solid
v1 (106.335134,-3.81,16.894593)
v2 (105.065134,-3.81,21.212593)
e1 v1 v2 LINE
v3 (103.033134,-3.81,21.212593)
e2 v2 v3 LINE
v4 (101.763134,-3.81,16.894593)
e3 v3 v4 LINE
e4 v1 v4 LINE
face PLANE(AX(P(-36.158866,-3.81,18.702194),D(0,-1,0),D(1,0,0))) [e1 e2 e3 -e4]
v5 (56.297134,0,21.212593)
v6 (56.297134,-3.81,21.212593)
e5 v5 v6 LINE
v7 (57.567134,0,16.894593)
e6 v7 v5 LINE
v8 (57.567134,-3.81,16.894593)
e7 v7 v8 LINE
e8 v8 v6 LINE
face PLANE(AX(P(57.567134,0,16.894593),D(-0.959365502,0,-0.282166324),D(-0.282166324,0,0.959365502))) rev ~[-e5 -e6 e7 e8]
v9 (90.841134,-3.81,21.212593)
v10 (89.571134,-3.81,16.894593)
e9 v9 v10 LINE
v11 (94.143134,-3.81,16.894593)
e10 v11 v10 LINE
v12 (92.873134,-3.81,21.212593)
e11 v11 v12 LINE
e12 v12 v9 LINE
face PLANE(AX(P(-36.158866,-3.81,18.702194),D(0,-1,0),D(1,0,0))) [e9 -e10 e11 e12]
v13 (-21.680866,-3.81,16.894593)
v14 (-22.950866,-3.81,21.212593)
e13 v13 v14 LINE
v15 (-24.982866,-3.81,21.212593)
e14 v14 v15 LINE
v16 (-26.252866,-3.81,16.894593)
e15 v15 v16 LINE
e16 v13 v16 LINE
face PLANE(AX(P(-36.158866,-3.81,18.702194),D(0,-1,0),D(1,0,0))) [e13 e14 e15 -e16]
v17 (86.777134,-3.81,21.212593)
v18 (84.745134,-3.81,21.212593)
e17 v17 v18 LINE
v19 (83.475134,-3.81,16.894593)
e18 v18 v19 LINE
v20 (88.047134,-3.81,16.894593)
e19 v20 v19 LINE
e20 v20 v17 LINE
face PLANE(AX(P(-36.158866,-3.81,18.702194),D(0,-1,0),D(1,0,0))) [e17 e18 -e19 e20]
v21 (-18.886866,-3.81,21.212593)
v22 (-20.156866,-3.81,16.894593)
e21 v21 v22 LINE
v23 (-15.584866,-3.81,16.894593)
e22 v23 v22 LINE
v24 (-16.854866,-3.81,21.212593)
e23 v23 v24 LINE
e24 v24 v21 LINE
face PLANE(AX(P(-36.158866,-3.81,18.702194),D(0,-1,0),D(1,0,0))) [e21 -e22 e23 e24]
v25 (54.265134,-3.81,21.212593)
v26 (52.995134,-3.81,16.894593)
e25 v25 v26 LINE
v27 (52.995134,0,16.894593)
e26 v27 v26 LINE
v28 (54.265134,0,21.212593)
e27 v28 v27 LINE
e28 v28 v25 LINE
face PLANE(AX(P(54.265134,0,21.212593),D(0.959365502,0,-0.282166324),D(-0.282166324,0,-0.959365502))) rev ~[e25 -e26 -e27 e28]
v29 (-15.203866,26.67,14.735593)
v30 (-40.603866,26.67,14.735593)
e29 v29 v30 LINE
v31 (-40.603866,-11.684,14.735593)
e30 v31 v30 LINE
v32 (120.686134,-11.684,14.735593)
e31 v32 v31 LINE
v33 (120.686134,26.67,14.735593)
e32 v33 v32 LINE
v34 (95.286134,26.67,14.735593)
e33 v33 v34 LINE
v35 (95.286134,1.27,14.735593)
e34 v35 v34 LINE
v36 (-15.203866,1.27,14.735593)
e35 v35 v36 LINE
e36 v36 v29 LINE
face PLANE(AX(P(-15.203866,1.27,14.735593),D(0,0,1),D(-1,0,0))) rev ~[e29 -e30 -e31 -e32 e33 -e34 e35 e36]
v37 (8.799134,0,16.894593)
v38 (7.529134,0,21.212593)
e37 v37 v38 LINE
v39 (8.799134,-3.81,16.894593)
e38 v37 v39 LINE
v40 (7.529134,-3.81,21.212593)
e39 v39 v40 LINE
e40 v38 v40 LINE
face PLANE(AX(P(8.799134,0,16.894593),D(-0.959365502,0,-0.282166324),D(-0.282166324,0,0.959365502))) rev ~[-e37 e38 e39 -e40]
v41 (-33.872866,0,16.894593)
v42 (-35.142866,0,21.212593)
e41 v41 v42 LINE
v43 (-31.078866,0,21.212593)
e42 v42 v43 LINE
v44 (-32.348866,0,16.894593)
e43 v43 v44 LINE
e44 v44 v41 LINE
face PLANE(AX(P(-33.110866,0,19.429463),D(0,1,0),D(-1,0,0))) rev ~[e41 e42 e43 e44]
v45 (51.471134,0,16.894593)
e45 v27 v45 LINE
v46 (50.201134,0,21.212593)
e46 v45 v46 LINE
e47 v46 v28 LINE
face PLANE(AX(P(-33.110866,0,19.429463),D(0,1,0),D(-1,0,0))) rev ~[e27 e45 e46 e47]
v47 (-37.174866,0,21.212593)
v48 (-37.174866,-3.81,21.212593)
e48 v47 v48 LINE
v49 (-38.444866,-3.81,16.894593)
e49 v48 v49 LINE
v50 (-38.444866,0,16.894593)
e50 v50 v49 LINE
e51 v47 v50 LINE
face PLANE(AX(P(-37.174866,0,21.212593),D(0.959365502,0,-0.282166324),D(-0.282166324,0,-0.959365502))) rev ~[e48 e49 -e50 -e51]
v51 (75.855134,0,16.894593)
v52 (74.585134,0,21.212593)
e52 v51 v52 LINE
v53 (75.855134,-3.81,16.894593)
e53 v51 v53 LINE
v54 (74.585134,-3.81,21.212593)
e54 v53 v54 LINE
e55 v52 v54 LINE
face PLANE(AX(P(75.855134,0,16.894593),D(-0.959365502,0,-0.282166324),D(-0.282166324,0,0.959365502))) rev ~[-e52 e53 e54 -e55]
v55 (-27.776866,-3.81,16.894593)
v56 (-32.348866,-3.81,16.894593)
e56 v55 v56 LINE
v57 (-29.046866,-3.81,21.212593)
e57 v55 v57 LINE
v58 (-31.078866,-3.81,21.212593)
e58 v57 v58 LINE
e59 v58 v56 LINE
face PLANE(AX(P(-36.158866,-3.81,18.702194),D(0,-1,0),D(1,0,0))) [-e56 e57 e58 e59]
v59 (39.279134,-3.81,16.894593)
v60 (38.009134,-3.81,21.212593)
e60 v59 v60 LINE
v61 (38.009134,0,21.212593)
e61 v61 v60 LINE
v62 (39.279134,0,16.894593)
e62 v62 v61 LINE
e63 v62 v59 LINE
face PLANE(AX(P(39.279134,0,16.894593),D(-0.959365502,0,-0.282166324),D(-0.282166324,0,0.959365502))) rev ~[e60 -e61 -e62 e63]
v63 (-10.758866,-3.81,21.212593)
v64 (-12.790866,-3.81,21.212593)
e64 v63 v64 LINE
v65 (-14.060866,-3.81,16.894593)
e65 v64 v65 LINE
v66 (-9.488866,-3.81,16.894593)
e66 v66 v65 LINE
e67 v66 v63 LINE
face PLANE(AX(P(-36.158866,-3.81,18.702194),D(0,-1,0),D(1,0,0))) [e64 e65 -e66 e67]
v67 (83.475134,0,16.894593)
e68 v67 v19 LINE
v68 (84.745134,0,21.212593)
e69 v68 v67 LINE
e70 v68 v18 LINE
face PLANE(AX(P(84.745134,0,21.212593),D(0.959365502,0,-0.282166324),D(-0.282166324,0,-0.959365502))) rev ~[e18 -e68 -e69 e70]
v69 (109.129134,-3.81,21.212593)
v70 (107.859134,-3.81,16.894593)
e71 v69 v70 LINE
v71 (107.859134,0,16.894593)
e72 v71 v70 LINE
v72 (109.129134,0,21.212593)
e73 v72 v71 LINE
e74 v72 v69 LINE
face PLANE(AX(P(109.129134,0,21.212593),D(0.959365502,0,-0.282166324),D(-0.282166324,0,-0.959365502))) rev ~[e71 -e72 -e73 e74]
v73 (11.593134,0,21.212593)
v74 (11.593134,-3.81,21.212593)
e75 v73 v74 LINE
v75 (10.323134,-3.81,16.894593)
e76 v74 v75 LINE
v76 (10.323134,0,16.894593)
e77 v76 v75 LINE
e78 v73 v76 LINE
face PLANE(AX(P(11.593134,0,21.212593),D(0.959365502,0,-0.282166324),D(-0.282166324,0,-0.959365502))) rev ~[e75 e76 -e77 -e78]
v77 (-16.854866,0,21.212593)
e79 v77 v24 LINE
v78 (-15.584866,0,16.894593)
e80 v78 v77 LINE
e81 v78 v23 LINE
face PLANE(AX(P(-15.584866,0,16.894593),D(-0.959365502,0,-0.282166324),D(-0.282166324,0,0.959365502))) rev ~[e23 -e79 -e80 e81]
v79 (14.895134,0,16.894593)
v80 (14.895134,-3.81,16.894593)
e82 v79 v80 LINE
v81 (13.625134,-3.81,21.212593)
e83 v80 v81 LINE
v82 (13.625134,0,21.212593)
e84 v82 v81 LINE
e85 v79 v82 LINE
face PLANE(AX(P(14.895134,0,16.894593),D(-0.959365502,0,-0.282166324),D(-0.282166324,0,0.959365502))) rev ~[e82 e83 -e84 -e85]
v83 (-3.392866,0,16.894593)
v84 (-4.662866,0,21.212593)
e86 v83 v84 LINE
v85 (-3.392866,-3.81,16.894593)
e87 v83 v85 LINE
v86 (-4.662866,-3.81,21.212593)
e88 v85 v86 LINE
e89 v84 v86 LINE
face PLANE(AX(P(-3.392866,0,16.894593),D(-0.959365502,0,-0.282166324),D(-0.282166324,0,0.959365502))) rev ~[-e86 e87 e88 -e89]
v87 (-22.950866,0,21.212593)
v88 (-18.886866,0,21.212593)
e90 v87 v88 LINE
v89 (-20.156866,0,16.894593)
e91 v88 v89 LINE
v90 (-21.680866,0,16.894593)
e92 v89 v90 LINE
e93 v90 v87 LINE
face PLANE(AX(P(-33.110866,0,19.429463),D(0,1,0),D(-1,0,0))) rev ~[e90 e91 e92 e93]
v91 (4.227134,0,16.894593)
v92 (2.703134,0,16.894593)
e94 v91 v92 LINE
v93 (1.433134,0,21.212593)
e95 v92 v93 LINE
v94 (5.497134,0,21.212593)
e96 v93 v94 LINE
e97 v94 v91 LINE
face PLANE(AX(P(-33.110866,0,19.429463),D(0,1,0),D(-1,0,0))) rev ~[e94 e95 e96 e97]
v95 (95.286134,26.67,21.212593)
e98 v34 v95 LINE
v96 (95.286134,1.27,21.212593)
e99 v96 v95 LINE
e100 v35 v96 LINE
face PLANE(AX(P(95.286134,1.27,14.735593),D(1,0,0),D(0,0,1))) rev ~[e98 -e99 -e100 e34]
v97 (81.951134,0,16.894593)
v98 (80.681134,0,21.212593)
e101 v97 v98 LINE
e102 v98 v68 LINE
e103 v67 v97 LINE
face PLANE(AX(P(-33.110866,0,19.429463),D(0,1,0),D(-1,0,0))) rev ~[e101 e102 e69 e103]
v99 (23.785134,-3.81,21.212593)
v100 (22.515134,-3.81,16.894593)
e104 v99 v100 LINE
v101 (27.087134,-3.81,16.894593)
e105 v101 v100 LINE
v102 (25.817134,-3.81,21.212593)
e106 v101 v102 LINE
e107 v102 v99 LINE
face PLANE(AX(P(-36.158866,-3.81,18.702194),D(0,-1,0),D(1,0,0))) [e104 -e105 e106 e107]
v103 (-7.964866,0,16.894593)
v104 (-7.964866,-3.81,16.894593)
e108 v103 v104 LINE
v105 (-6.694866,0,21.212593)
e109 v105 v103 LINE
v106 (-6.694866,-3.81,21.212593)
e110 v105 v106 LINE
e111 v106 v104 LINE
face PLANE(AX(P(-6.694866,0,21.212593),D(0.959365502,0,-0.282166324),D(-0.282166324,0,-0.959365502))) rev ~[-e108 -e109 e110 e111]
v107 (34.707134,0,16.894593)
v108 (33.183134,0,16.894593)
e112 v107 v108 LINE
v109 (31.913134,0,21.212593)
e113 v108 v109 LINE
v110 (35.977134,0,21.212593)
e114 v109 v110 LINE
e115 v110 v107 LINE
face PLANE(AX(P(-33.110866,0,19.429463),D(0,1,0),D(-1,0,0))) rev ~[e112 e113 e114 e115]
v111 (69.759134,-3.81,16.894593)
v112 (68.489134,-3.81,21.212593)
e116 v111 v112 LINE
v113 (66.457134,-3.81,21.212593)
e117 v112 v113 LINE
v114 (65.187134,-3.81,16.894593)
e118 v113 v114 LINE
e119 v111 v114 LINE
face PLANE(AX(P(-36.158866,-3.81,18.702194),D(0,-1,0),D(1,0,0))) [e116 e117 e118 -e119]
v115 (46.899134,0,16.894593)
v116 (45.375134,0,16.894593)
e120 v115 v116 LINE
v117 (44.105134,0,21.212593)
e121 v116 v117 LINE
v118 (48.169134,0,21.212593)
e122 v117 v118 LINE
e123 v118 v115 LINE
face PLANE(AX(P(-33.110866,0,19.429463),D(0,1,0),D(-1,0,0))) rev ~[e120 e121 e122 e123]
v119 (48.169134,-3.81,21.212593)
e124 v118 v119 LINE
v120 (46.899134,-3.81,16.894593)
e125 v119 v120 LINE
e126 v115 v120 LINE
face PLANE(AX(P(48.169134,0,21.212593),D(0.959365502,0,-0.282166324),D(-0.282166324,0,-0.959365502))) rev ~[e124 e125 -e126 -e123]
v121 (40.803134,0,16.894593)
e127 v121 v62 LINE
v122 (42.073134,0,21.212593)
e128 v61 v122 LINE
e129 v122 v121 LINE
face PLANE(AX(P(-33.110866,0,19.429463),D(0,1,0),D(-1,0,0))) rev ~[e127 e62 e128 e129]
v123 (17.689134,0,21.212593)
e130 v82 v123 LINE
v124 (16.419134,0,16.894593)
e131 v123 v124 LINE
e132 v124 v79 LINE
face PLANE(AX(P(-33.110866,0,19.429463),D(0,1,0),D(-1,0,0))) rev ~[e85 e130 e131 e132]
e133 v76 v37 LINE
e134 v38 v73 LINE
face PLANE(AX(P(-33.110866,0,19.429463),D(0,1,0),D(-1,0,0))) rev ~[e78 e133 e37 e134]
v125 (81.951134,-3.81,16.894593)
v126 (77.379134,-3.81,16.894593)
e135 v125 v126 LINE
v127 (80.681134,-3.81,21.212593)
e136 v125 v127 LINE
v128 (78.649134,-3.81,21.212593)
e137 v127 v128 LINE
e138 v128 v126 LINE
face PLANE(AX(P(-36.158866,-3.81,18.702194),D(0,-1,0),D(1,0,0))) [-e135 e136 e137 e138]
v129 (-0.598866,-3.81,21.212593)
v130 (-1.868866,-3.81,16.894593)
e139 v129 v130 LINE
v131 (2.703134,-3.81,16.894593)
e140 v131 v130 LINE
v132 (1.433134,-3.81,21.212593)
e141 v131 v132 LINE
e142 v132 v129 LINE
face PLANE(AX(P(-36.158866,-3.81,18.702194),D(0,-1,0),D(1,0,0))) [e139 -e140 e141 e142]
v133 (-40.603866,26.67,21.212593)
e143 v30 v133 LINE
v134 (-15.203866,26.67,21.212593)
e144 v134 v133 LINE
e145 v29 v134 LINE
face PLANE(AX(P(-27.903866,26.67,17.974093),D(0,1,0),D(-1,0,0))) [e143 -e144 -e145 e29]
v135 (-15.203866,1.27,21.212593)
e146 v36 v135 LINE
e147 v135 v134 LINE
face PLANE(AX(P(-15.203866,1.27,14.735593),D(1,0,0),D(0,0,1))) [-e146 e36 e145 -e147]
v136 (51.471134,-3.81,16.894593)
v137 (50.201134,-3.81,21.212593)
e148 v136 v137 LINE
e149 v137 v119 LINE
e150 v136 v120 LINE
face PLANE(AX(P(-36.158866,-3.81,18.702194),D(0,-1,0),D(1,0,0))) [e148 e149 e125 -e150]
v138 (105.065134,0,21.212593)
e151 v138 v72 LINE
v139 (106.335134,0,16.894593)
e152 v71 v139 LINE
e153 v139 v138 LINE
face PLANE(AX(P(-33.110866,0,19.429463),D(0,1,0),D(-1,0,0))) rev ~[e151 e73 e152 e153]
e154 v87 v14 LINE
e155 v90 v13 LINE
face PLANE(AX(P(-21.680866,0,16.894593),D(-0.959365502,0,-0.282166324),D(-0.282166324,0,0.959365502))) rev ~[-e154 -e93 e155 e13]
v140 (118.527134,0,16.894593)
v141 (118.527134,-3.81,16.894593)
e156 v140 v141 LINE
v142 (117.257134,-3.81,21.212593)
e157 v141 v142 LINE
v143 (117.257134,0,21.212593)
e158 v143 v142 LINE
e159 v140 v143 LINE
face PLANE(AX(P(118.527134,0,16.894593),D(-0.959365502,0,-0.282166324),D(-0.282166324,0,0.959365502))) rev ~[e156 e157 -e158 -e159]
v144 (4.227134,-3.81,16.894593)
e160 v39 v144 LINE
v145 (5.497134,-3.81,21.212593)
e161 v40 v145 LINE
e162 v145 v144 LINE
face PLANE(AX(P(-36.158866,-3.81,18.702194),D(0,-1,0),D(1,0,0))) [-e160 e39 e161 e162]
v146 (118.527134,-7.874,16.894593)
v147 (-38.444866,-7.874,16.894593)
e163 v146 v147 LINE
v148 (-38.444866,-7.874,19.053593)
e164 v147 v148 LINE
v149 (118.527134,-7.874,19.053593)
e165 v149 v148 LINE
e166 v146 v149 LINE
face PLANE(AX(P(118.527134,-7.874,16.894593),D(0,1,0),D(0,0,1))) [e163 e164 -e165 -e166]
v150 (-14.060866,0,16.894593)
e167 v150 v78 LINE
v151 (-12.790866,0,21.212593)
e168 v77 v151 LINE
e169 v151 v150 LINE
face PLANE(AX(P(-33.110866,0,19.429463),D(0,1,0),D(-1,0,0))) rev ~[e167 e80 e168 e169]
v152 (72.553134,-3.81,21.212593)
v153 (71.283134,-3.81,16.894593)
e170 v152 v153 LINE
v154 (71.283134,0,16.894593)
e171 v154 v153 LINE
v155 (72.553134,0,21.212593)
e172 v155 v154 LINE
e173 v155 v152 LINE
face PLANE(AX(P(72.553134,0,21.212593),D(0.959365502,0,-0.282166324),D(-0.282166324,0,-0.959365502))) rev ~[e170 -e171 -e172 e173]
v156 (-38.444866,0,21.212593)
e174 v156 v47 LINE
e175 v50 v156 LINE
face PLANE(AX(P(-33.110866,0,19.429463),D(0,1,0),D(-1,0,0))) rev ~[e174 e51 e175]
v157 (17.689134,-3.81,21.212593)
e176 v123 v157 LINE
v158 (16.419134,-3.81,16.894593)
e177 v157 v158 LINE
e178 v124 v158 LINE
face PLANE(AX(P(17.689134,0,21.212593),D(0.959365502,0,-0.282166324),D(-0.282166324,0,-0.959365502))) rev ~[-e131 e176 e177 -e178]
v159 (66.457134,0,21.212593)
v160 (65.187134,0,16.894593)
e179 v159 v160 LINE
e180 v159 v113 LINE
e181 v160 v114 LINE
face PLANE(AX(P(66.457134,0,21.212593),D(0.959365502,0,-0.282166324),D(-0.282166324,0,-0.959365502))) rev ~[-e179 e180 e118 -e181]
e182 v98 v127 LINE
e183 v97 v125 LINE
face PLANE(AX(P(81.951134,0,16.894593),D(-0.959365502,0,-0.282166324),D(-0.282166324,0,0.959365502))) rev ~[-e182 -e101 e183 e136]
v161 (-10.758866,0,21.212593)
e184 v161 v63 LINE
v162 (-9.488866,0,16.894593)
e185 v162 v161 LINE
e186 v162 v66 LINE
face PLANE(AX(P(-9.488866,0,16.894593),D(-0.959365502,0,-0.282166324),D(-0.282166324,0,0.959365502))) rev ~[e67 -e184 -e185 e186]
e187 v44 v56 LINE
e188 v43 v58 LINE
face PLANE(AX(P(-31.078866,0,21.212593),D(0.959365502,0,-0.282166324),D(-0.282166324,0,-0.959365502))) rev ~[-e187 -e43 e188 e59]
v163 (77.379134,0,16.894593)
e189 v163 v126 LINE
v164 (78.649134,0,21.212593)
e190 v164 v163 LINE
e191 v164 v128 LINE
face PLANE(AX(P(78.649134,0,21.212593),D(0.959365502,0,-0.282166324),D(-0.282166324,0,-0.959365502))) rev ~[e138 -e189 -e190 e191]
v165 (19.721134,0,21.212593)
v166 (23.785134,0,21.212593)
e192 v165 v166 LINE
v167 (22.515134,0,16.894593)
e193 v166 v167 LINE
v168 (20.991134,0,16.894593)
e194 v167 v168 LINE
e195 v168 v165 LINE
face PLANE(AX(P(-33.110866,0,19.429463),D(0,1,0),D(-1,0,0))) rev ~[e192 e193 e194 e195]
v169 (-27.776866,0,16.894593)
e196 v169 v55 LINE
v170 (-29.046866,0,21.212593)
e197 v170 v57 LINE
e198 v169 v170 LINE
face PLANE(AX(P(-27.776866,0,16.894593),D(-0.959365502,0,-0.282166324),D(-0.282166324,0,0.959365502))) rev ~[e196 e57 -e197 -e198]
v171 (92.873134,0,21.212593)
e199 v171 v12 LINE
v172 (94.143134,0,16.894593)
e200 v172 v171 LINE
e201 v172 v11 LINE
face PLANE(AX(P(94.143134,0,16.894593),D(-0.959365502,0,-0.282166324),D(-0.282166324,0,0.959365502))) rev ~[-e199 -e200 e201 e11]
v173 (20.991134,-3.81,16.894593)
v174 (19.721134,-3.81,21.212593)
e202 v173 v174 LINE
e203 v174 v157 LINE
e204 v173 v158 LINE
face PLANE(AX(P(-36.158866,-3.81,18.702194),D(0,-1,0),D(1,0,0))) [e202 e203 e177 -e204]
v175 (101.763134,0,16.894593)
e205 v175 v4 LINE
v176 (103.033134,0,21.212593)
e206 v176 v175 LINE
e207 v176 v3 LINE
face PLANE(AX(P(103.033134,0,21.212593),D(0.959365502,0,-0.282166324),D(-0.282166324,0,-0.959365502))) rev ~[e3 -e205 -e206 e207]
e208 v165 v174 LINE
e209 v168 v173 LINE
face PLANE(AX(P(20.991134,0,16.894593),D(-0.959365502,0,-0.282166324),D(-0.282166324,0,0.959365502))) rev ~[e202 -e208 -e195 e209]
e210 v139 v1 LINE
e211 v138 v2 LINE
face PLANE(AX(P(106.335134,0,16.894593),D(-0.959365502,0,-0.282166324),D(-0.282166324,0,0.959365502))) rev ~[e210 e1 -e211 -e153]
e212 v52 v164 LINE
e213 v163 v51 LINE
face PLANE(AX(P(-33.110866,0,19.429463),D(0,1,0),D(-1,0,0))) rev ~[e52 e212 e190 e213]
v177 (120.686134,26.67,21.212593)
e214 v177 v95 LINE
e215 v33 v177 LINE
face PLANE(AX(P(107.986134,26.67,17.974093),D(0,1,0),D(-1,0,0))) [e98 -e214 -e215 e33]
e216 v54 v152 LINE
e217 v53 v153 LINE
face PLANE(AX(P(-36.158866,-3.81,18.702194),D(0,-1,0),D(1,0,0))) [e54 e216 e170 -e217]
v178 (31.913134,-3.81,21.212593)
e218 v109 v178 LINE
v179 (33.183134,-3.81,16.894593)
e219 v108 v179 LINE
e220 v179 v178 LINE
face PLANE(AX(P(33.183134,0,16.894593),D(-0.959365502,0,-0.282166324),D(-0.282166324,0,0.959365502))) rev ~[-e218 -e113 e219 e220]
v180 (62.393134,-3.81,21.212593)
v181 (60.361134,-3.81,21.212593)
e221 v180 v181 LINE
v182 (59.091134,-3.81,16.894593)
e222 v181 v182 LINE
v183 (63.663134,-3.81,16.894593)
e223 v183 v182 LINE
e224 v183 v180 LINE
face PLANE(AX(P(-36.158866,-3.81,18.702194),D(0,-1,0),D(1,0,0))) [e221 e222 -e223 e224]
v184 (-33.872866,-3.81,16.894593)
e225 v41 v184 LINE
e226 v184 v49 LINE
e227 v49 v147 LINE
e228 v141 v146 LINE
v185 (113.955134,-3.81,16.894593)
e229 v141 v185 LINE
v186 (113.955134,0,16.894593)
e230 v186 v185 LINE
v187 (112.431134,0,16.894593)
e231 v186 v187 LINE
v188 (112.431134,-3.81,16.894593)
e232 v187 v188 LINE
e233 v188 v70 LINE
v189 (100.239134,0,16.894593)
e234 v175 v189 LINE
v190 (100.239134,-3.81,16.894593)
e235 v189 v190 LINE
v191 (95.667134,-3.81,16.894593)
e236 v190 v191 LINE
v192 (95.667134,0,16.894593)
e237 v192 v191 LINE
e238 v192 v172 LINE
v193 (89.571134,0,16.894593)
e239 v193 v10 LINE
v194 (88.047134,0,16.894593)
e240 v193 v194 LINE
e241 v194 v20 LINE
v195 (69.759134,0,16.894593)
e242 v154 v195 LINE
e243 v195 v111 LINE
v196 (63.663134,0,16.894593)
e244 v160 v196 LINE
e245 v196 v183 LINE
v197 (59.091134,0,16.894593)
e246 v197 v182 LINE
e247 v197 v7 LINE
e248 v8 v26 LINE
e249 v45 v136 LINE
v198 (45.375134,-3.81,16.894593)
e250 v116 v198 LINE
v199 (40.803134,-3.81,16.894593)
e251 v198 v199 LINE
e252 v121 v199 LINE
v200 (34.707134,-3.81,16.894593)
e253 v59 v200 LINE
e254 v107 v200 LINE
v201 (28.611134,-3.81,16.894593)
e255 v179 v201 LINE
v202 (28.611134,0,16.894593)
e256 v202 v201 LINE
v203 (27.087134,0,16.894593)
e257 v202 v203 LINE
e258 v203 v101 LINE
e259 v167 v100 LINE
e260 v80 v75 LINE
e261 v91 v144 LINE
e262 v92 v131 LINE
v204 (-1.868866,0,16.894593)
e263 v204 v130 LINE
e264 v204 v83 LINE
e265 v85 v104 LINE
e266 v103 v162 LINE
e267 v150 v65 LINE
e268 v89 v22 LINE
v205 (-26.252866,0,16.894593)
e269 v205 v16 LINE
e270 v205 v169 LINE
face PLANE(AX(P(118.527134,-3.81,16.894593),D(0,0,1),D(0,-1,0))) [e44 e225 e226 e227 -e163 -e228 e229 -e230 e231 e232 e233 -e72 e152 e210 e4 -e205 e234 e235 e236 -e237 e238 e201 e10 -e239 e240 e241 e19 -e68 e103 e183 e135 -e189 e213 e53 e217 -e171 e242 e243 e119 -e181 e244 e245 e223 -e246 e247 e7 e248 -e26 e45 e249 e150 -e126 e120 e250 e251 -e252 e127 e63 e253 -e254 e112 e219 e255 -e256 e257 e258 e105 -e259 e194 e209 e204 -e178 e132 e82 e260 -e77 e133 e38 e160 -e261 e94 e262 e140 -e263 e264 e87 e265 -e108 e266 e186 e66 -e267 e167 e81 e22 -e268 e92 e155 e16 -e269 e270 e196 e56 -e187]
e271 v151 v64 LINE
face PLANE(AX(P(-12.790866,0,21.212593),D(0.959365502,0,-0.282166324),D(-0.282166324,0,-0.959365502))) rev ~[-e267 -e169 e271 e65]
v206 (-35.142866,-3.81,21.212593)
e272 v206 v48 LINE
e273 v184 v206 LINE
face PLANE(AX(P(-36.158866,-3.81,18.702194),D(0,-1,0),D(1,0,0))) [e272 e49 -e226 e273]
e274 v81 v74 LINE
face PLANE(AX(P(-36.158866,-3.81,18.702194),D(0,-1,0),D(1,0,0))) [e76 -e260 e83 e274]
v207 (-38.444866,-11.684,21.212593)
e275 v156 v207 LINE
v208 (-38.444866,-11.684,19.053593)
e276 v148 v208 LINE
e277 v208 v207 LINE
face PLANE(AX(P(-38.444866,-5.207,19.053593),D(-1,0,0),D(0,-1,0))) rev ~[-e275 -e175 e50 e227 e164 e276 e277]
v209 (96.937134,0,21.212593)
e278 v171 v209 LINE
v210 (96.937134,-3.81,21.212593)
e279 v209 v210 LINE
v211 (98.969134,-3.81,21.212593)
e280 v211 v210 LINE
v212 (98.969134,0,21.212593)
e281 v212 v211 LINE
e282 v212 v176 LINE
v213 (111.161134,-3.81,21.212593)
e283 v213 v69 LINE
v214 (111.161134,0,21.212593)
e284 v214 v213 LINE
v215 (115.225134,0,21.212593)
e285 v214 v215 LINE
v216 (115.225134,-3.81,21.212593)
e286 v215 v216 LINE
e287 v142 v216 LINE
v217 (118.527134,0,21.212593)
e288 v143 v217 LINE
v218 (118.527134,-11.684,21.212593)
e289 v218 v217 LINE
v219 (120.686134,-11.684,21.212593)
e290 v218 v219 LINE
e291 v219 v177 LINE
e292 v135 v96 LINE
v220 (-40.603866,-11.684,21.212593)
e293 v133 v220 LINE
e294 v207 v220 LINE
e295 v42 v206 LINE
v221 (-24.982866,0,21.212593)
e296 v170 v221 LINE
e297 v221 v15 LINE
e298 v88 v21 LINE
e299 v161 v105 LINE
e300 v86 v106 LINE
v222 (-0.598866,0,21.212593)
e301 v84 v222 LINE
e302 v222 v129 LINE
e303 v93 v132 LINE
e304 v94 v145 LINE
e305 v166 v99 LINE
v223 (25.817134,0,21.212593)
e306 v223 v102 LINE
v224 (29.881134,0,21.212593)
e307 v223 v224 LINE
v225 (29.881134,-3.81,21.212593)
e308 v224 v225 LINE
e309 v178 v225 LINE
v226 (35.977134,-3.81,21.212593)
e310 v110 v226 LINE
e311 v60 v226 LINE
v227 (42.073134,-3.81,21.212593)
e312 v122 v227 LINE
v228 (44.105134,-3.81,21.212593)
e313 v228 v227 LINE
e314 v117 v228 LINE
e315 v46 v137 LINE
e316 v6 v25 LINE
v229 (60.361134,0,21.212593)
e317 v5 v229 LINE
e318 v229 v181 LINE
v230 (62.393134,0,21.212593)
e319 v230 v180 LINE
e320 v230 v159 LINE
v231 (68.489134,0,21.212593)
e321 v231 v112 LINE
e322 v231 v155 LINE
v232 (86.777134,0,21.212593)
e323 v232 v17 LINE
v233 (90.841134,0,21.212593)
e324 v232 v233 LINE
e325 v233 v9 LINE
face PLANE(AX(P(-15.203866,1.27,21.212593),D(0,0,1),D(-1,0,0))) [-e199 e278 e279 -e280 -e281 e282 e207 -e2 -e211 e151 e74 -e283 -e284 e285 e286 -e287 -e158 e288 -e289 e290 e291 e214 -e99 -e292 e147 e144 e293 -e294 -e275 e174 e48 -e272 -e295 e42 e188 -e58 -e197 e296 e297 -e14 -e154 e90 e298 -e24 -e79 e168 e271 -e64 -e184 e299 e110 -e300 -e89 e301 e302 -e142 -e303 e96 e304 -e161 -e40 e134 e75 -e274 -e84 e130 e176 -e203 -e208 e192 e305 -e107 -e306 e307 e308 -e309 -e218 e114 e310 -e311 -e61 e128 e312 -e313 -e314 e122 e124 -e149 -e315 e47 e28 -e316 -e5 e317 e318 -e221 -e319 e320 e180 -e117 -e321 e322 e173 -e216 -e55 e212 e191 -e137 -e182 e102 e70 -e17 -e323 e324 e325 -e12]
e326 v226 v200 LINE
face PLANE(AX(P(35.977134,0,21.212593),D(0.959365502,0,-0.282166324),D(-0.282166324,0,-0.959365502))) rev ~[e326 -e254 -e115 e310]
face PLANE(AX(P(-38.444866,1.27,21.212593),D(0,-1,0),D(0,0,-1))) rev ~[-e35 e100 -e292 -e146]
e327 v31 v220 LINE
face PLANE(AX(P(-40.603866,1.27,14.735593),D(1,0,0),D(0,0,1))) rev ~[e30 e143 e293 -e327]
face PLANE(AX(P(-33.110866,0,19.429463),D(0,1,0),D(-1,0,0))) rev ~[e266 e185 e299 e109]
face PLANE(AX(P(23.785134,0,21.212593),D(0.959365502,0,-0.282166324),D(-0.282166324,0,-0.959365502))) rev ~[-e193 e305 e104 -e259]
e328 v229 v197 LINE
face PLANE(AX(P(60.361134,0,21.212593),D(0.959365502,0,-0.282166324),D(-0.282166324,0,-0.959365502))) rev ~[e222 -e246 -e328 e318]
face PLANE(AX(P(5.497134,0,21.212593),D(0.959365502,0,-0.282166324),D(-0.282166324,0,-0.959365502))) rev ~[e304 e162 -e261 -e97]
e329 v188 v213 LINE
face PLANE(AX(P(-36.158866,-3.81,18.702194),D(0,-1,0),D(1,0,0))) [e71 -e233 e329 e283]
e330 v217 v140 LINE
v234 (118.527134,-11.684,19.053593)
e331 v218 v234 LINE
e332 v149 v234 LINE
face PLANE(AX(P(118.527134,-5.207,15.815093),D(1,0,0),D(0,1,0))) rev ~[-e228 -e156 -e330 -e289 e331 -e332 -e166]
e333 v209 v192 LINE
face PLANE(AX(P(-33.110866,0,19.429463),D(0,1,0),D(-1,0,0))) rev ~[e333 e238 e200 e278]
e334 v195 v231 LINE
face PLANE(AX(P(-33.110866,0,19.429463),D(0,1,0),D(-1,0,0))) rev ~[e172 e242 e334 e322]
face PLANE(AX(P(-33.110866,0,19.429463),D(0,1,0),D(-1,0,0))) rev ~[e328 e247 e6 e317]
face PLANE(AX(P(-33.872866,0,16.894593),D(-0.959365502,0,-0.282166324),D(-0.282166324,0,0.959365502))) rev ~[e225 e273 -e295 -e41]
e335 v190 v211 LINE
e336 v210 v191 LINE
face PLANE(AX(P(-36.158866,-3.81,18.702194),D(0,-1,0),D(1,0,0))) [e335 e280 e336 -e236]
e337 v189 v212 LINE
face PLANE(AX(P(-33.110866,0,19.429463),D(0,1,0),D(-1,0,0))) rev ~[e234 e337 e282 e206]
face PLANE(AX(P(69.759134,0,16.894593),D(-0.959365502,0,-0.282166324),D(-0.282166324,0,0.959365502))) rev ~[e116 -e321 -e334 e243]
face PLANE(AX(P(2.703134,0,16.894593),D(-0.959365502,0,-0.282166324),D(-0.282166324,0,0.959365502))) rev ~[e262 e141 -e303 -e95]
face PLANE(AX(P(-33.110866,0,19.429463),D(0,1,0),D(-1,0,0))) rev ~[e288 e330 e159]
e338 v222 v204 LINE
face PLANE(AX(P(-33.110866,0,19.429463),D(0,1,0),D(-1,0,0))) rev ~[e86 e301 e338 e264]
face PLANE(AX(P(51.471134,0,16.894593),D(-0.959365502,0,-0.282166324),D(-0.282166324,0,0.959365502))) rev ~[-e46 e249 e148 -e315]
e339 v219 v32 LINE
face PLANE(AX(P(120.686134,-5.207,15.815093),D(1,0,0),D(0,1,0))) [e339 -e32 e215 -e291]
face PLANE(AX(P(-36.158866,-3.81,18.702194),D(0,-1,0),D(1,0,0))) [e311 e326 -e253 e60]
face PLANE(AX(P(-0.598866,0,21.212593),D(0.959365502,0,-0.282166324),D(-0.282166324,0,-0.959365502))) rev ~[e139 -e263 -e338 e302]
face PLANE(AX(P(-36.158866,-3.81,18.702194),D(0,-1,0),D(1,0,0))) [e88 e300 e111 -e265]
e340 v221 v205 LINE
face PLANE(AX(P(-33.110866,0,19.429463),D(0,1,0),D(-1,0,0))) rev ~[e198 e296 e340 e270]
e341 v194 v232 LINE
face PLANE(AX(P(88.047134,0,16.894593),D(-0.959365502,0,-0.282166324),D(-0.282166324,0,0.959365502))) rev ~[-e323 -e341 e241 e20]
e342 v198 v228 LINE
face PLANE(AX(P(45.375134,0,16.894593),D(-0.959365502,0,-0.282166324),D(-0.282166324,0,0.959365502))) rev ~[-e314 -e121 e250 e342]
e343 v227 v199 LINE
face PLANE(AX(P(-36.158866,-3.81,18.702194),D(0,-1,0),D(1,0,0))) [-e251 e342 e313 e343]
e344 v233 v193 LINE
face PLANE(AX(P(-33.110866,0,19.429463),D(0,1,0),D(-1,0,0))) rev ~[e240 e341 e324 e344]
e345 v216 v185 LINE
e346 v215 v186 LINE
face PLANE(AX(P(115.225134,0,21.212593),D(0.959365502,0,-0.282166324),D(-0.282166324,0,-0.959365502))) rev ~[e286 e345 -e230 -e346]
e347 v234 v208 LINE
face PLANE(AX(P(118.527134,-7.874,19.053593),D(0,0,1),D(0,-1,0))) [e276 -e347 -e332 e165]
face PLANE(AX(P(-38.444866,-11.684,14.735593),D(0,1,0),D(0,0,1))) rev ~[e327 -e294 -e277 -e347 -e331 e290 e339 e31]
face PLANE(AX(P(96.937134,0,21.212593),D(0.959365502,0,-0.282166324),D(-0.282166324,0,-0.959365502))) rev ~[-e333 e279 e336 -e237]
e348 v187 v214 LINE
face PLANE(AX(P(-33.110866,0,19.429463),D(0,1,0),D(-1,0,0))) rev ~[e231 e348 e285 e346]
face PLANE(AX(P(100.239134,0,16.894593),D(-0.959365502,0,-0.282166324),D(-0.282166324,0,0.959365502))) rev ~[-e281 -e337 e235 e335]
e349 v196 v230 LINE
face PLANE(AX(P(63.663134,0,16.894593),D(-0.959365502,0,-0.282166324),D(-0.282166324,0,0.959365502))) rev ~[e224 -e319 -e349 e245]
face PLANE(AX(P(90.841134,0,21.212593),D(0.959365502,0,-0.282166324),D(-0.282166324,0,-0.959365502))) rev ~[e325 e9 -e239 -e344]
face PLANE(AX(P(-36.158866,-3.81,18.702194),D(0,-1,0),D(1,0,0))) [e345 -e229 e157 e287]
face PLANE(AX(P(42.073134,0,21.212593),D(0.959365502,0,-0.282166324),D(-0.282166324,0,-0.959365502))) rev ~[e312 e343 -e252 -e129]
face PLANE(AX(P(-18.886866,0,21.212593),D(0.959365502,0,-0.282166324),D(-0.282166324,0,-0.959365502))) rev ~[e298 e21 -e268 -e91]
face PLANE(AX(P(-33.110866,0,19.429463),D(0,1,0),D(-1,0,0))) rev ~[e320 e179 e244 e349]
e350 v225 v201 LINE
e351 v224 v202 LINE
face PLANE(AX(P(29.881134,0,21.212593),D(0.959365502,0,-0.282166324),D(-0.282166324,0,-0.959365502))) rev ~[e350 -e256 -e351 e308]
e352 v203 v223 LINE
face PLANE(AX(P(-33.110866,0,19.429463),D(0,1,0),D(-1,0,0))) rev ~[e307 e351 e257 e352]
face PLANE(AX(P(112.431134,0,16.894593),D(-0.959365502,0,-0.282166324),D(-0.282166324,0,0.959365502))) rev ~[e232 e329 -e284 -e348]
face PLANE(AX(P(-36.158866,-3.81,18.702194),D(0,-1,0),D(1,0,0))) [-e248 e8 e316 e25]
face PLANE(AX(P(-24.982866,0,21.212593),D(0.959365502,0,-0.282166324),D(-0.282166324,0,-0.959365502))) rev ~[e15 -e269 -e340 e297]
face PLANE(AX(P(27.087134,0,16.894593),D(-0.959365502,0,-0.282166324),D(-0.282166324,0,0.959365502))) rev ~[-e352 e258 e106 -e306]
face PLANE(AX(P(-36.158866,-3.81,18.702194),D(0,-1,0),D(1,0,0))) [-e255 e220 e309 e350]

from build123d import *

# Parameters (mm, degrees)
F1_DEPTH  = 3.81
F5_DEPTH  = 156.972
F7_DEPTH  = 1.27
F9_W      = 12.954
F9_H      = 2.159
F9_H_2    = 4.318
F10_DEPTH = 2.159
F11_W     = 12.954
F11_H     = 4.318
F11_H_2   = 2.159
F12_DEPTH = 2.159
F13_W     = 25.4
F13_H     = 6.477
F14_DEPTH = 25.4


with BuildPart() as f1:
    # F0 (on Front) → F1 (new body)
    with BuildSketch(Plane.XZ):
        Polygon((-37.1748663006, 21.2125933835), (-38.4448663006, 16.8945933835), (-33.8728663006, 16.8945933835), (-35.1428663006, 21.2125933835), align=None)
        Polygon((-33.8728663006, 16.8945933835), (-38.4448663006, 16.8945933835), (-38.4448663006, 14.7355933835), (118.5271336994, 14.7355933835), (118.5271336994, 16.8945933835), (113.9551336994, 16.8945933835), (112.4311336994, 16.8945933835), (107.8591336994, 16.8945933835), (106.3351336994, 16.8945933835), (101.7631336994, 16.8945933835), (100.2391336994, 16.8945933835), (95.6671336994, 16.8945933835), (94.1431336994, 16.8945933835), (89.5711336994, 16.8945933835), (88.0471336994, 16.8945933835), (83.4751336994, 16.8945933835), (81.9511336994, 16.8945933835), (77.3791336994, 16.8945933835), (75.8551336994, 16.8945933835), (71.2831336994, 16.8945933835), (69.7591336994, 16.8945933835), (65.1871336994, 16.8945933835), (63.6631336994, 16.8945933835), (59.0911336994, 16.8945933835), (57.5671336994, 16.8945933835), (52.9951336994, 16.8945933835), (51.4711336994, 16.8945933835), (46.8991336994, 16.8945933835), (45.3751336994, 16.8945933835), (40.8031336994, 16.8945933835), (39.2791336994, 16.8945933835), (34.7071336994, 16.8945933835), (33.1831336994, 16.8945933835), (28.6111336994, 16.8945933835), (27.0871336994, 16.8945933835), (22.5151336994, 16.8945933835), (20.9911336994, 16.8945933835), (16.4191336994, 16.8945933835), (14.8951336994, 16.8945933835), (10.3231336994, 16.8945933835), (8.7991336994, 16.8945933835), (4.2271336994, 16.8945933835), (2.7031336994, 16.8945933835), (-1.8688663006, 16.8945933835), (-3.3928663006, 16.8945933835), (-7.9648663006, 16.8945933835), (-9.4888663006, 16.8945933835), (-14.0608663006, 16.8945933835), (-15.5848663006, 16.8945933835), (-20.1568663006, 16.8945933835), (-21.6808663006, 16.8945933835), (-26.2528663006, 16.8945933835), (-27.7768663006, 16.8945933835), (-32.3488663006, 16.8945933835), align=None)
        Polygon((-31.0788663006, 21.2125933835), (-32.3488663006, 16.8945933835), (-27.7768663006, 16.8945933835), (-29.0468663006, 21.2125933835), align=None)
        Polygon((113.9551336994, 16.8945933835), (118.5271336994, 16.8945933835), (117.2571336994, 21.2125933835), (115.2251336994, 21.2125933835), align=None)
        Polygon((-24.9828663006, 21.2125933835), (-26.2528663006, 16.8945933835), (-21.6808663006, 16.8945933835), (-22.9508663006, 21.2125933835), align=None)
        Polygon((107.8591336994, 16.8945933835), (112.4311336994, 16.8945933835), (111.1611336994, 21.2125933835), (109.1291336994, 21.2125933835), align=None)
        Polygon((-18.8868663006, 21.2125933835), (-20.1568663006, 16.8945933835), (-15.5848663006, 16.8945933835), (-16.8548663006, 21.2125933835), align=None)
        Polygon((101.7631336994, 16.8945933835), (106.3351336994, 16.8945933835), (105.0651336994, 21.2125933835), (103.0331336994, 21.2125933835), align=None)
        Polygon((-12.7908663006, 21.2125933835), (-14.0608663006, 16.8945933835), (-9.4888663006, 16.8945933835), (-10.7588663006, 21.2125933835), align=None)
        Polygon((95.6671336994, 16.8945933835), (100.2391336994, 16.8945933835), (98.9691336994, 21.2125933835), (96.9371336994, 21.2125933835), align=None)
        Polygon((-6.6948663006, 21.2125933835), (-7.9648663006, 16.8945933835), (-3.3928663006, 16.8945933835), (-4.6628663006, 21.2125933835), align=None)
        Polygon((89.5711336994, 16.8945933835), (94.1431336994, 16.8945933835), (92.8731336994, 21.2125933835), (90.8411336994, 21.2125933835), align=None)
        Polygon((-0.5988663006, 21.2125933835), (-1.8688663006, 16.8945933835), (2.7031336994, 16.8945933835), (1.4331336994, 21.2125933835), align=None)
        Polygon((83.4751336994, 16.8945933835), (88.0471336994, 16.8945933835), (86.7771336994, 21.2125933835), (84.7451336994, 21.2125933835), align=None)
        Polygon((5.4971336994, 21.2125933835), (4.2271336994, 16.8945933835), (8.7991336994, 16.8945933835), (7.5291336994, 21.2125933835), align=None)
        Polygon((77.3791336994, 16.8945933835), (81.9511336994, 16.8945933835), (80.6811336994, 21.2125933835), (78.6491336994, 21.2125933835), align=None)
        Polygon((11.5931336994, 21.2125933835), (10.3231336994, 16.8945933835), (14.8951336994, 16.8945933835), (13.6251336994, 21.2125933835), align=None)
        Polygon((71.2831336994, 16.8945933835), (75.8551336994, 16.8945933835), (74.5851336994, 21.2125933835), (72.5531336994, 21.2125933835), align=None)
        Polygon((17.6891336994, 21.2125933835), (16.4191336994, 16.8945933835), (20.9911336994, 16.8945933835), (19.7211336994, 21.2125933835), align=None)
        Polygon((65.1871336994, 16.8945933835), (69.7591336994, 16.8945933835), (68.4891336994, 21.2125933835), (66.4571336994, 21.2125933835), align=None)
        Polygon((23.7851336994, 21.2125933835), (22.5151336994, 16.8945933835), (27.0871336994, 16.8945933835), (25.8171336994, 21.2125933835), align=None)
        Polygon((59.0911336994, 16.8945933835), (63.6631336994, 16.8945933835), (62.3931336994, 21.2125933835), (60.3611336994, 21.2125933835), align=None)
        Polygon((29.8811336994, 21.2125933835), (28.6111336994, 16.8945933835), (33.1831336994, 16.8945933835), (31.9131336994, 21.2125933835), align=None)
        Polygon((52.9951336994, 16.8945933835), (57.5671336994, 16.8945933835), (56.2971336994, 21.2125933835), (54.2651336994, 21.2125933835), align=None)
        Polygon((35.9771336994, 21.2125933835), (34.7071336994, 16.8945933835), (39.2791336994, 16.8945933835), (38.0091336994, 21.2125933835), align=None)
        Polygon((46.8991336994, 16.8945933835), (51.4711336994, 16.8945933835), (50.2011336994, 21.2125933835), (48.1691336994, 21.2125933835), align=None)
        Polygon((42.0731336994, 21.2125933835), (40.8031336994, 16.8945933835), (45.3751336994, 16.8945933835), (44.1051336994, 21.2125933835), align=None)
    extrude(amount=F1_DEPTH)

    # F4 (on plane+point) → F5 (join, through all)
    with BuildSketch(Plane.YZ.offset(118.5271336994)):
        Polygon((-11.684, 14.7355933835), (-3.81, 14.7355933835), (-3.81, 16.8945933835), (-7.874, 16.8945933835), (-7.874, 19.0535933835), (-11.684, 19.0535933835), (-11.684, 16.8945933835), align=None)
    extrude(amount=-F5_DEPTH)

    # F6 (on face) → F7 (join)
    with BuildSketch(Plane(origin=(0, 0, 0), x_dir=(-1, 0, 0), z_dir=(0, 1, 0))):
        Polygon((33.8728663006, 16.8945933835), (35.1428663006, 21.2125933835), (31.0788663006, 21.2125933835), (32.3488663006, 16.8945933835), align=None)
        Polygon((27.7768663006, 16.8945933835), (29.0468663006, 21.2125933835), (24.9828663006, 21.2125933835), (26.2528663006, 16.8945933835), align=None)
        Polygon((21.6808663006, 16.8945933835), (22.9508663006, 21.2125933835), (18.8868663006, 21.2125933835), (20.1568663006, 16.8945933835), align=None)
        Polygon((15.5848663006, 16.8945933835), (16.8548663006, 21.2125933835), (12.7908663006, 21.2125933835), (14.0608663006, 16.8945933835), align=None)
        Polygon((9.4888663006, 16.8945933835), (10.7588663006, 21.2125933835), (6.6948663006, 21.2125933835), (7.9648663006, 16.8945933835), align=None)
        Polygon((3.3928663006, 16.8945933835), (4.6628663006, 21.2125933835), (0.5988663006, 21.2125933835), (1.8688663006, 16.8945933835), align=None)
        Polygon((-2.7031336994, 16.8945933835), (-1.4331336994, 21.2125933835), (-5.4971336994, 21.2125933835), (-4.2271336994, 16.8945933835), align=None)
        Polygon((-8.7991336994, 16.8945933835), (-7.5291336994, 21.2125933835), (-11.5931336994, 21.2125933835), (-10.3231336994, 16.8945933835), align=None)
        Polygon((-14.8951336994, 16.8945933835), (-13.6251336994, 21.2125933835), (-17.6891336994, 21.2125933835), (-16.4191336994, 16.8945933835), align=None)
        Polygon((-20.9911336994, 16.8945933835), (-19.7211336994, 21.2125933835), (-23.7851336994, 21.2125933835), (-22.5151336994, 16.8945933835), align=None)
        Polygon((-27.0871336994, 16.8945933835), (-25.8171336994, 21.2125933835), (-29.8811336994, 21.2125933835), (-28.6111336994, 16.8945933835), align=None)
        Polygon((-118.5271336994, 14.7355933835), (38.4448663006, 14.7355933835), (38.4448663006, 16.8945933835), (37.1748663006, 21.2125933835), (35.1428663006, 21.2125933835), (33.8728663006, 16.8945933835), (32.3488663006, 16.8945933835), (31.0788663006, 21.2125933835), (29.0468663006, 21.2125933835), (27.7768663006, 16.8945933835), (26.2528663006, 16.8945933835), (24.9828663006, 21.2125933835), (22.9508663006, 21.2125933835), (21.6808663006, 16.8945933835), (20.1568663006, 16.8945933835), (18.8868663006, 21.2125933835), (16.8548663006, 21.2125933835), (15.5848663006, 16.8945933835), (14.0608663006, 16.8945933835), (12.7908663006, 21.2125933835), (10.7588663006, 21.2125933835), (9.4888663006, 16.8945933835), (7.9648663006, 16.8945933835), (6.6948663006, 21.2125933835), (4.6628663006, 21.2125933835), (3.3928663006, 16.8945933835), (1.8688663006, 16.8945933835), (0.5988663006, 21.2125933835), (-1.4331336994, 21.2125933835), (-2.7031336994, 16.8945933835), (-4.2271336994, 16.8945933835), (-5.4971336994, 21.2125933835), (-7.5291336994, 21.2125933835), (-8.7991336994, 16.8945933835), (-10.3231336994, 16.8945933835), (-11.5931336994, 21.2125933835), (-13.6251336994, 21.2125933835), (-14.8951336994, 16.8945933835), (-16.4191336994, 16.8945933835), (-17.6891336994, 21.2125933835), (-19.7211336994, 21.2125933835), (-20.9911336994, 16.8945933835), (-22.5151336994, 16.8945933835), (-23.7851336994, 21.2125933835), (-25.8171336994, 21.2125933835), (-27.0871336994, 16.8945933835), (-28.6111336994, 16.8945933835), (-29.8811336994, 21.2125933835), (-31.9131336994, 21.2125933835), (-33.1831336994, 16.8945933835), (-34.7071336994, 16.8945933835), (-35.9771336994, 21.2125933835), (-38.0091336994, 21.2125933835), (-39.2791336994, 16.8945933835), (-40.8031336994, 16.8945933835), (-42.0731336994, 21.2125933835), (-44.1051336994, 21.2125933835), (-45.3751336994, 16.8945933835), (-46.8991336994, 16.8945933835), (-48.1691336994, 21.2125933835), (-50.2011336994, 21.2125933835), (-51.4711336994, 16.8945933835), (-52.9951336994, 16.8945933835), (-54.2651336994, 21.2125933835), (-56.2971336994, 21.2125933835), (-57.5671336994, 16.8945933835), (-59.0911336994, 16.8945933835), (-60.3611336994, 21.2125933835), (-62.3931336994, 21.2125933835), (-63.6631336994, 16.8945933835), (-65.1871336994, 16.8945933835), (-66.4571336994, 21.2125933835), (-68.4891336994, 21.2125933835), (-69.7591336994, 16.8945933835), (-71.2831336994, 16.8945933835), (-72.5531336994, 21.2125933835), (-74.5851336994, 21.2125933835), (-75.8551336994, 16.8945933835), (-77.3791336994, 16.8945933835), (-78.6491336994, 21.2125933835), (-80.6811336994, 21.2125933835), (-81.9511336994, 16.8945933835), (-83.4751336994, 16.8945933835), (-84.7451336994, 21.2125933835), (-86.7771336994, 21.2125933835), (-88.0471336994, 16.8945933835), (-89.5711336994, 16.8945933835), (-90.8411336994, 21.2125933835), (-92.8731336994, 21.2125933835), (-94.1431336994, 16.8945933835), (-95.6671336994, 16.8945933835), (-96.9371336994, 21.2125933835), (-98.9691336994, 21.2125933835), (-100.2391336994, 16.8945933835), (-101.7631336994, 16.8945933835), (-103.0331336994, 21.2125933835), (-105.0651336994, 21.2125933835), (-106.3351336994, 16.8945933835), (-107.8591336994, 16.8945933835), (-109.1291336994, 21.2125933835), (-111.1611336994, 21.2125933835), (-112.4311336994, 16.8945933835), (-113.9551336994, 16.8945933835), (-115.2251336994, 21.2125933835), (-117.2571336994, 21.2125933835), (-118.5271336994, 16.8945933835), align=None)
        Polygon((-111.1611336994, 21.2125933835), (-115.2251336994, 21.2125933835), (-113.9551336994, 16.8945933835), (-112.4311336994, 16.8945933835), align=None)
        Polygon((-105.0651336994, 21.2125933835), (-109.1291336994, 21.2125933835), (-107.8591336994, 16.8945933835), (-106.3351336994, 16.8945933835), align=None)
        Polygon((-98.9691336994, 21.2125933835), (-103.0331336994, 21.2125933835), (-101.7631336994, 16.8945933835), (-100.2391336994, 16.8945933835), align=None)
        Polygon((-92.8731336994, 21.2125933835), (-96.9371336994, 21.2125933835), (-95.6671336994, 16.8945933835), (-94.1431336994, 16.8945933835), align=None)
        Polygon((-86.7771336994, 21.2125933835), (-90.8411336994, 21.2125933835), (-89.5711336994, 16.8945933835), (-88.0471336994, 16.8945933835), align=None)
        Polygon((-80.6811336994, 21.2125933835), (-84.7451336994, 21.2125933835), (-83.4751336994, 16.8945933835), (-81.9511336994, 16.8945933835), align=None)
        Polygon((-74.5851336994, 21.2125933835), (-78.6491336994, 21.2125933835), (-77.3791336994, 16.8945933835), (-75.8551336994, 16.8945933835), align=None)
        Polygon((-68.4891336994, 21.2125933835), (-72.5531336994, 21.2125933835), (-71.2831336994, 16.8945933835), (-69.7591336994, 16.8945933835), align=None)
        Polygon((-62.3931336994, 21.2125933835), (-66.4571336994, 21.2125933835), (-65.1871336994, 16.8945933835), (-63.6631336994, 16.8945933835), align=None)
        Polygon((-56.2971336994, 21.2125933835), (-60.3611336994, 21.2125933835), (-59.0911336994, 16.8945933835), (-57.5671336994, 16.8945933835), align=None)
        Polygon((-50.2011336994, 21.2125933835), (-54.2651336994, 21.2125933835), (-52.9951336994, 16.8945933835), (-51.4711336994, 16.8945933835), align=None)
        Polygon((-44.1051336994, 21.2125933835), (-48.1691336994, 21.2125933835), (-46.8991336994, 16.8945933835), (-45.3751336994, 16.8945933835), align=None)
        Polygon((-39.2791336994, 16.8945933835), (-38.0091336994, 21.2125933835), (-42.0731336994, 21.2125933835), (-40.8031336994, 16.8945933835), align=None)
        Polygon((-33.1831336994, 16.8945933835), (-31.9131336994, 21.2125933835), (-35.9771336994, 21.2125933835), (-34.7071336994, 16.8945933835), align=None)
        Polygon((-118.5271336994, 21.2125933835), (-118.5271336994, 16.8945933835), (-117.2571336994, 21.2125933835), align=None)
        Polygon((37.1748663006, 21.2125933835), (38.4448663006, 16.8945933835), (38.4448663006, 21.2125933835), align=None)
    extrude(amount=F7_DEPTH)

    # F9 (on face) → F10 (join)
    with BuildSketch(Plane.YZ.offset(118.5271336994)):
        with Locations((-5.207, 15.8150933835)):
            Rectangle(F9_W, F9_H)
        with Locations((-5.207, 19.0535933835)):
            Rectangle(F9_W, F9_H_2)
    extrude(amount=F10_DEPTH)

    # F11 (on face) → F12 (join)
    with BuildSketch(Plane(origin=(-38.4448663006, 0, 0), x_dir=(0, -1, 0), z_dir=(-1, 0, 0))):
        with Locations((5.207, 19.0535933835)):
            Rectangle(F11_W, F11_H)
        with Locations((5.207, 15.8150933835)):
            Rectangle(F11_W, F11_H_2)
    extrude(amount=F12_DEPTH)

    # F13 (on face) → F14 (join)
    with BuildSketch(Plane(origin=(0, 1.27, 0), x_dir=(-1, 0, 0), z_dir=(0, 1, 0))):
        with Locations((27.9038663006, 17.9740933835)):
            Rectangle(F13_W, F13_H)
        with Locations((-107.9861336994, 17.9740933835)):
            Rectangle(F13_W, F13_H)
    extrude(amount=F14_DEPTH)


solid = f1.part
